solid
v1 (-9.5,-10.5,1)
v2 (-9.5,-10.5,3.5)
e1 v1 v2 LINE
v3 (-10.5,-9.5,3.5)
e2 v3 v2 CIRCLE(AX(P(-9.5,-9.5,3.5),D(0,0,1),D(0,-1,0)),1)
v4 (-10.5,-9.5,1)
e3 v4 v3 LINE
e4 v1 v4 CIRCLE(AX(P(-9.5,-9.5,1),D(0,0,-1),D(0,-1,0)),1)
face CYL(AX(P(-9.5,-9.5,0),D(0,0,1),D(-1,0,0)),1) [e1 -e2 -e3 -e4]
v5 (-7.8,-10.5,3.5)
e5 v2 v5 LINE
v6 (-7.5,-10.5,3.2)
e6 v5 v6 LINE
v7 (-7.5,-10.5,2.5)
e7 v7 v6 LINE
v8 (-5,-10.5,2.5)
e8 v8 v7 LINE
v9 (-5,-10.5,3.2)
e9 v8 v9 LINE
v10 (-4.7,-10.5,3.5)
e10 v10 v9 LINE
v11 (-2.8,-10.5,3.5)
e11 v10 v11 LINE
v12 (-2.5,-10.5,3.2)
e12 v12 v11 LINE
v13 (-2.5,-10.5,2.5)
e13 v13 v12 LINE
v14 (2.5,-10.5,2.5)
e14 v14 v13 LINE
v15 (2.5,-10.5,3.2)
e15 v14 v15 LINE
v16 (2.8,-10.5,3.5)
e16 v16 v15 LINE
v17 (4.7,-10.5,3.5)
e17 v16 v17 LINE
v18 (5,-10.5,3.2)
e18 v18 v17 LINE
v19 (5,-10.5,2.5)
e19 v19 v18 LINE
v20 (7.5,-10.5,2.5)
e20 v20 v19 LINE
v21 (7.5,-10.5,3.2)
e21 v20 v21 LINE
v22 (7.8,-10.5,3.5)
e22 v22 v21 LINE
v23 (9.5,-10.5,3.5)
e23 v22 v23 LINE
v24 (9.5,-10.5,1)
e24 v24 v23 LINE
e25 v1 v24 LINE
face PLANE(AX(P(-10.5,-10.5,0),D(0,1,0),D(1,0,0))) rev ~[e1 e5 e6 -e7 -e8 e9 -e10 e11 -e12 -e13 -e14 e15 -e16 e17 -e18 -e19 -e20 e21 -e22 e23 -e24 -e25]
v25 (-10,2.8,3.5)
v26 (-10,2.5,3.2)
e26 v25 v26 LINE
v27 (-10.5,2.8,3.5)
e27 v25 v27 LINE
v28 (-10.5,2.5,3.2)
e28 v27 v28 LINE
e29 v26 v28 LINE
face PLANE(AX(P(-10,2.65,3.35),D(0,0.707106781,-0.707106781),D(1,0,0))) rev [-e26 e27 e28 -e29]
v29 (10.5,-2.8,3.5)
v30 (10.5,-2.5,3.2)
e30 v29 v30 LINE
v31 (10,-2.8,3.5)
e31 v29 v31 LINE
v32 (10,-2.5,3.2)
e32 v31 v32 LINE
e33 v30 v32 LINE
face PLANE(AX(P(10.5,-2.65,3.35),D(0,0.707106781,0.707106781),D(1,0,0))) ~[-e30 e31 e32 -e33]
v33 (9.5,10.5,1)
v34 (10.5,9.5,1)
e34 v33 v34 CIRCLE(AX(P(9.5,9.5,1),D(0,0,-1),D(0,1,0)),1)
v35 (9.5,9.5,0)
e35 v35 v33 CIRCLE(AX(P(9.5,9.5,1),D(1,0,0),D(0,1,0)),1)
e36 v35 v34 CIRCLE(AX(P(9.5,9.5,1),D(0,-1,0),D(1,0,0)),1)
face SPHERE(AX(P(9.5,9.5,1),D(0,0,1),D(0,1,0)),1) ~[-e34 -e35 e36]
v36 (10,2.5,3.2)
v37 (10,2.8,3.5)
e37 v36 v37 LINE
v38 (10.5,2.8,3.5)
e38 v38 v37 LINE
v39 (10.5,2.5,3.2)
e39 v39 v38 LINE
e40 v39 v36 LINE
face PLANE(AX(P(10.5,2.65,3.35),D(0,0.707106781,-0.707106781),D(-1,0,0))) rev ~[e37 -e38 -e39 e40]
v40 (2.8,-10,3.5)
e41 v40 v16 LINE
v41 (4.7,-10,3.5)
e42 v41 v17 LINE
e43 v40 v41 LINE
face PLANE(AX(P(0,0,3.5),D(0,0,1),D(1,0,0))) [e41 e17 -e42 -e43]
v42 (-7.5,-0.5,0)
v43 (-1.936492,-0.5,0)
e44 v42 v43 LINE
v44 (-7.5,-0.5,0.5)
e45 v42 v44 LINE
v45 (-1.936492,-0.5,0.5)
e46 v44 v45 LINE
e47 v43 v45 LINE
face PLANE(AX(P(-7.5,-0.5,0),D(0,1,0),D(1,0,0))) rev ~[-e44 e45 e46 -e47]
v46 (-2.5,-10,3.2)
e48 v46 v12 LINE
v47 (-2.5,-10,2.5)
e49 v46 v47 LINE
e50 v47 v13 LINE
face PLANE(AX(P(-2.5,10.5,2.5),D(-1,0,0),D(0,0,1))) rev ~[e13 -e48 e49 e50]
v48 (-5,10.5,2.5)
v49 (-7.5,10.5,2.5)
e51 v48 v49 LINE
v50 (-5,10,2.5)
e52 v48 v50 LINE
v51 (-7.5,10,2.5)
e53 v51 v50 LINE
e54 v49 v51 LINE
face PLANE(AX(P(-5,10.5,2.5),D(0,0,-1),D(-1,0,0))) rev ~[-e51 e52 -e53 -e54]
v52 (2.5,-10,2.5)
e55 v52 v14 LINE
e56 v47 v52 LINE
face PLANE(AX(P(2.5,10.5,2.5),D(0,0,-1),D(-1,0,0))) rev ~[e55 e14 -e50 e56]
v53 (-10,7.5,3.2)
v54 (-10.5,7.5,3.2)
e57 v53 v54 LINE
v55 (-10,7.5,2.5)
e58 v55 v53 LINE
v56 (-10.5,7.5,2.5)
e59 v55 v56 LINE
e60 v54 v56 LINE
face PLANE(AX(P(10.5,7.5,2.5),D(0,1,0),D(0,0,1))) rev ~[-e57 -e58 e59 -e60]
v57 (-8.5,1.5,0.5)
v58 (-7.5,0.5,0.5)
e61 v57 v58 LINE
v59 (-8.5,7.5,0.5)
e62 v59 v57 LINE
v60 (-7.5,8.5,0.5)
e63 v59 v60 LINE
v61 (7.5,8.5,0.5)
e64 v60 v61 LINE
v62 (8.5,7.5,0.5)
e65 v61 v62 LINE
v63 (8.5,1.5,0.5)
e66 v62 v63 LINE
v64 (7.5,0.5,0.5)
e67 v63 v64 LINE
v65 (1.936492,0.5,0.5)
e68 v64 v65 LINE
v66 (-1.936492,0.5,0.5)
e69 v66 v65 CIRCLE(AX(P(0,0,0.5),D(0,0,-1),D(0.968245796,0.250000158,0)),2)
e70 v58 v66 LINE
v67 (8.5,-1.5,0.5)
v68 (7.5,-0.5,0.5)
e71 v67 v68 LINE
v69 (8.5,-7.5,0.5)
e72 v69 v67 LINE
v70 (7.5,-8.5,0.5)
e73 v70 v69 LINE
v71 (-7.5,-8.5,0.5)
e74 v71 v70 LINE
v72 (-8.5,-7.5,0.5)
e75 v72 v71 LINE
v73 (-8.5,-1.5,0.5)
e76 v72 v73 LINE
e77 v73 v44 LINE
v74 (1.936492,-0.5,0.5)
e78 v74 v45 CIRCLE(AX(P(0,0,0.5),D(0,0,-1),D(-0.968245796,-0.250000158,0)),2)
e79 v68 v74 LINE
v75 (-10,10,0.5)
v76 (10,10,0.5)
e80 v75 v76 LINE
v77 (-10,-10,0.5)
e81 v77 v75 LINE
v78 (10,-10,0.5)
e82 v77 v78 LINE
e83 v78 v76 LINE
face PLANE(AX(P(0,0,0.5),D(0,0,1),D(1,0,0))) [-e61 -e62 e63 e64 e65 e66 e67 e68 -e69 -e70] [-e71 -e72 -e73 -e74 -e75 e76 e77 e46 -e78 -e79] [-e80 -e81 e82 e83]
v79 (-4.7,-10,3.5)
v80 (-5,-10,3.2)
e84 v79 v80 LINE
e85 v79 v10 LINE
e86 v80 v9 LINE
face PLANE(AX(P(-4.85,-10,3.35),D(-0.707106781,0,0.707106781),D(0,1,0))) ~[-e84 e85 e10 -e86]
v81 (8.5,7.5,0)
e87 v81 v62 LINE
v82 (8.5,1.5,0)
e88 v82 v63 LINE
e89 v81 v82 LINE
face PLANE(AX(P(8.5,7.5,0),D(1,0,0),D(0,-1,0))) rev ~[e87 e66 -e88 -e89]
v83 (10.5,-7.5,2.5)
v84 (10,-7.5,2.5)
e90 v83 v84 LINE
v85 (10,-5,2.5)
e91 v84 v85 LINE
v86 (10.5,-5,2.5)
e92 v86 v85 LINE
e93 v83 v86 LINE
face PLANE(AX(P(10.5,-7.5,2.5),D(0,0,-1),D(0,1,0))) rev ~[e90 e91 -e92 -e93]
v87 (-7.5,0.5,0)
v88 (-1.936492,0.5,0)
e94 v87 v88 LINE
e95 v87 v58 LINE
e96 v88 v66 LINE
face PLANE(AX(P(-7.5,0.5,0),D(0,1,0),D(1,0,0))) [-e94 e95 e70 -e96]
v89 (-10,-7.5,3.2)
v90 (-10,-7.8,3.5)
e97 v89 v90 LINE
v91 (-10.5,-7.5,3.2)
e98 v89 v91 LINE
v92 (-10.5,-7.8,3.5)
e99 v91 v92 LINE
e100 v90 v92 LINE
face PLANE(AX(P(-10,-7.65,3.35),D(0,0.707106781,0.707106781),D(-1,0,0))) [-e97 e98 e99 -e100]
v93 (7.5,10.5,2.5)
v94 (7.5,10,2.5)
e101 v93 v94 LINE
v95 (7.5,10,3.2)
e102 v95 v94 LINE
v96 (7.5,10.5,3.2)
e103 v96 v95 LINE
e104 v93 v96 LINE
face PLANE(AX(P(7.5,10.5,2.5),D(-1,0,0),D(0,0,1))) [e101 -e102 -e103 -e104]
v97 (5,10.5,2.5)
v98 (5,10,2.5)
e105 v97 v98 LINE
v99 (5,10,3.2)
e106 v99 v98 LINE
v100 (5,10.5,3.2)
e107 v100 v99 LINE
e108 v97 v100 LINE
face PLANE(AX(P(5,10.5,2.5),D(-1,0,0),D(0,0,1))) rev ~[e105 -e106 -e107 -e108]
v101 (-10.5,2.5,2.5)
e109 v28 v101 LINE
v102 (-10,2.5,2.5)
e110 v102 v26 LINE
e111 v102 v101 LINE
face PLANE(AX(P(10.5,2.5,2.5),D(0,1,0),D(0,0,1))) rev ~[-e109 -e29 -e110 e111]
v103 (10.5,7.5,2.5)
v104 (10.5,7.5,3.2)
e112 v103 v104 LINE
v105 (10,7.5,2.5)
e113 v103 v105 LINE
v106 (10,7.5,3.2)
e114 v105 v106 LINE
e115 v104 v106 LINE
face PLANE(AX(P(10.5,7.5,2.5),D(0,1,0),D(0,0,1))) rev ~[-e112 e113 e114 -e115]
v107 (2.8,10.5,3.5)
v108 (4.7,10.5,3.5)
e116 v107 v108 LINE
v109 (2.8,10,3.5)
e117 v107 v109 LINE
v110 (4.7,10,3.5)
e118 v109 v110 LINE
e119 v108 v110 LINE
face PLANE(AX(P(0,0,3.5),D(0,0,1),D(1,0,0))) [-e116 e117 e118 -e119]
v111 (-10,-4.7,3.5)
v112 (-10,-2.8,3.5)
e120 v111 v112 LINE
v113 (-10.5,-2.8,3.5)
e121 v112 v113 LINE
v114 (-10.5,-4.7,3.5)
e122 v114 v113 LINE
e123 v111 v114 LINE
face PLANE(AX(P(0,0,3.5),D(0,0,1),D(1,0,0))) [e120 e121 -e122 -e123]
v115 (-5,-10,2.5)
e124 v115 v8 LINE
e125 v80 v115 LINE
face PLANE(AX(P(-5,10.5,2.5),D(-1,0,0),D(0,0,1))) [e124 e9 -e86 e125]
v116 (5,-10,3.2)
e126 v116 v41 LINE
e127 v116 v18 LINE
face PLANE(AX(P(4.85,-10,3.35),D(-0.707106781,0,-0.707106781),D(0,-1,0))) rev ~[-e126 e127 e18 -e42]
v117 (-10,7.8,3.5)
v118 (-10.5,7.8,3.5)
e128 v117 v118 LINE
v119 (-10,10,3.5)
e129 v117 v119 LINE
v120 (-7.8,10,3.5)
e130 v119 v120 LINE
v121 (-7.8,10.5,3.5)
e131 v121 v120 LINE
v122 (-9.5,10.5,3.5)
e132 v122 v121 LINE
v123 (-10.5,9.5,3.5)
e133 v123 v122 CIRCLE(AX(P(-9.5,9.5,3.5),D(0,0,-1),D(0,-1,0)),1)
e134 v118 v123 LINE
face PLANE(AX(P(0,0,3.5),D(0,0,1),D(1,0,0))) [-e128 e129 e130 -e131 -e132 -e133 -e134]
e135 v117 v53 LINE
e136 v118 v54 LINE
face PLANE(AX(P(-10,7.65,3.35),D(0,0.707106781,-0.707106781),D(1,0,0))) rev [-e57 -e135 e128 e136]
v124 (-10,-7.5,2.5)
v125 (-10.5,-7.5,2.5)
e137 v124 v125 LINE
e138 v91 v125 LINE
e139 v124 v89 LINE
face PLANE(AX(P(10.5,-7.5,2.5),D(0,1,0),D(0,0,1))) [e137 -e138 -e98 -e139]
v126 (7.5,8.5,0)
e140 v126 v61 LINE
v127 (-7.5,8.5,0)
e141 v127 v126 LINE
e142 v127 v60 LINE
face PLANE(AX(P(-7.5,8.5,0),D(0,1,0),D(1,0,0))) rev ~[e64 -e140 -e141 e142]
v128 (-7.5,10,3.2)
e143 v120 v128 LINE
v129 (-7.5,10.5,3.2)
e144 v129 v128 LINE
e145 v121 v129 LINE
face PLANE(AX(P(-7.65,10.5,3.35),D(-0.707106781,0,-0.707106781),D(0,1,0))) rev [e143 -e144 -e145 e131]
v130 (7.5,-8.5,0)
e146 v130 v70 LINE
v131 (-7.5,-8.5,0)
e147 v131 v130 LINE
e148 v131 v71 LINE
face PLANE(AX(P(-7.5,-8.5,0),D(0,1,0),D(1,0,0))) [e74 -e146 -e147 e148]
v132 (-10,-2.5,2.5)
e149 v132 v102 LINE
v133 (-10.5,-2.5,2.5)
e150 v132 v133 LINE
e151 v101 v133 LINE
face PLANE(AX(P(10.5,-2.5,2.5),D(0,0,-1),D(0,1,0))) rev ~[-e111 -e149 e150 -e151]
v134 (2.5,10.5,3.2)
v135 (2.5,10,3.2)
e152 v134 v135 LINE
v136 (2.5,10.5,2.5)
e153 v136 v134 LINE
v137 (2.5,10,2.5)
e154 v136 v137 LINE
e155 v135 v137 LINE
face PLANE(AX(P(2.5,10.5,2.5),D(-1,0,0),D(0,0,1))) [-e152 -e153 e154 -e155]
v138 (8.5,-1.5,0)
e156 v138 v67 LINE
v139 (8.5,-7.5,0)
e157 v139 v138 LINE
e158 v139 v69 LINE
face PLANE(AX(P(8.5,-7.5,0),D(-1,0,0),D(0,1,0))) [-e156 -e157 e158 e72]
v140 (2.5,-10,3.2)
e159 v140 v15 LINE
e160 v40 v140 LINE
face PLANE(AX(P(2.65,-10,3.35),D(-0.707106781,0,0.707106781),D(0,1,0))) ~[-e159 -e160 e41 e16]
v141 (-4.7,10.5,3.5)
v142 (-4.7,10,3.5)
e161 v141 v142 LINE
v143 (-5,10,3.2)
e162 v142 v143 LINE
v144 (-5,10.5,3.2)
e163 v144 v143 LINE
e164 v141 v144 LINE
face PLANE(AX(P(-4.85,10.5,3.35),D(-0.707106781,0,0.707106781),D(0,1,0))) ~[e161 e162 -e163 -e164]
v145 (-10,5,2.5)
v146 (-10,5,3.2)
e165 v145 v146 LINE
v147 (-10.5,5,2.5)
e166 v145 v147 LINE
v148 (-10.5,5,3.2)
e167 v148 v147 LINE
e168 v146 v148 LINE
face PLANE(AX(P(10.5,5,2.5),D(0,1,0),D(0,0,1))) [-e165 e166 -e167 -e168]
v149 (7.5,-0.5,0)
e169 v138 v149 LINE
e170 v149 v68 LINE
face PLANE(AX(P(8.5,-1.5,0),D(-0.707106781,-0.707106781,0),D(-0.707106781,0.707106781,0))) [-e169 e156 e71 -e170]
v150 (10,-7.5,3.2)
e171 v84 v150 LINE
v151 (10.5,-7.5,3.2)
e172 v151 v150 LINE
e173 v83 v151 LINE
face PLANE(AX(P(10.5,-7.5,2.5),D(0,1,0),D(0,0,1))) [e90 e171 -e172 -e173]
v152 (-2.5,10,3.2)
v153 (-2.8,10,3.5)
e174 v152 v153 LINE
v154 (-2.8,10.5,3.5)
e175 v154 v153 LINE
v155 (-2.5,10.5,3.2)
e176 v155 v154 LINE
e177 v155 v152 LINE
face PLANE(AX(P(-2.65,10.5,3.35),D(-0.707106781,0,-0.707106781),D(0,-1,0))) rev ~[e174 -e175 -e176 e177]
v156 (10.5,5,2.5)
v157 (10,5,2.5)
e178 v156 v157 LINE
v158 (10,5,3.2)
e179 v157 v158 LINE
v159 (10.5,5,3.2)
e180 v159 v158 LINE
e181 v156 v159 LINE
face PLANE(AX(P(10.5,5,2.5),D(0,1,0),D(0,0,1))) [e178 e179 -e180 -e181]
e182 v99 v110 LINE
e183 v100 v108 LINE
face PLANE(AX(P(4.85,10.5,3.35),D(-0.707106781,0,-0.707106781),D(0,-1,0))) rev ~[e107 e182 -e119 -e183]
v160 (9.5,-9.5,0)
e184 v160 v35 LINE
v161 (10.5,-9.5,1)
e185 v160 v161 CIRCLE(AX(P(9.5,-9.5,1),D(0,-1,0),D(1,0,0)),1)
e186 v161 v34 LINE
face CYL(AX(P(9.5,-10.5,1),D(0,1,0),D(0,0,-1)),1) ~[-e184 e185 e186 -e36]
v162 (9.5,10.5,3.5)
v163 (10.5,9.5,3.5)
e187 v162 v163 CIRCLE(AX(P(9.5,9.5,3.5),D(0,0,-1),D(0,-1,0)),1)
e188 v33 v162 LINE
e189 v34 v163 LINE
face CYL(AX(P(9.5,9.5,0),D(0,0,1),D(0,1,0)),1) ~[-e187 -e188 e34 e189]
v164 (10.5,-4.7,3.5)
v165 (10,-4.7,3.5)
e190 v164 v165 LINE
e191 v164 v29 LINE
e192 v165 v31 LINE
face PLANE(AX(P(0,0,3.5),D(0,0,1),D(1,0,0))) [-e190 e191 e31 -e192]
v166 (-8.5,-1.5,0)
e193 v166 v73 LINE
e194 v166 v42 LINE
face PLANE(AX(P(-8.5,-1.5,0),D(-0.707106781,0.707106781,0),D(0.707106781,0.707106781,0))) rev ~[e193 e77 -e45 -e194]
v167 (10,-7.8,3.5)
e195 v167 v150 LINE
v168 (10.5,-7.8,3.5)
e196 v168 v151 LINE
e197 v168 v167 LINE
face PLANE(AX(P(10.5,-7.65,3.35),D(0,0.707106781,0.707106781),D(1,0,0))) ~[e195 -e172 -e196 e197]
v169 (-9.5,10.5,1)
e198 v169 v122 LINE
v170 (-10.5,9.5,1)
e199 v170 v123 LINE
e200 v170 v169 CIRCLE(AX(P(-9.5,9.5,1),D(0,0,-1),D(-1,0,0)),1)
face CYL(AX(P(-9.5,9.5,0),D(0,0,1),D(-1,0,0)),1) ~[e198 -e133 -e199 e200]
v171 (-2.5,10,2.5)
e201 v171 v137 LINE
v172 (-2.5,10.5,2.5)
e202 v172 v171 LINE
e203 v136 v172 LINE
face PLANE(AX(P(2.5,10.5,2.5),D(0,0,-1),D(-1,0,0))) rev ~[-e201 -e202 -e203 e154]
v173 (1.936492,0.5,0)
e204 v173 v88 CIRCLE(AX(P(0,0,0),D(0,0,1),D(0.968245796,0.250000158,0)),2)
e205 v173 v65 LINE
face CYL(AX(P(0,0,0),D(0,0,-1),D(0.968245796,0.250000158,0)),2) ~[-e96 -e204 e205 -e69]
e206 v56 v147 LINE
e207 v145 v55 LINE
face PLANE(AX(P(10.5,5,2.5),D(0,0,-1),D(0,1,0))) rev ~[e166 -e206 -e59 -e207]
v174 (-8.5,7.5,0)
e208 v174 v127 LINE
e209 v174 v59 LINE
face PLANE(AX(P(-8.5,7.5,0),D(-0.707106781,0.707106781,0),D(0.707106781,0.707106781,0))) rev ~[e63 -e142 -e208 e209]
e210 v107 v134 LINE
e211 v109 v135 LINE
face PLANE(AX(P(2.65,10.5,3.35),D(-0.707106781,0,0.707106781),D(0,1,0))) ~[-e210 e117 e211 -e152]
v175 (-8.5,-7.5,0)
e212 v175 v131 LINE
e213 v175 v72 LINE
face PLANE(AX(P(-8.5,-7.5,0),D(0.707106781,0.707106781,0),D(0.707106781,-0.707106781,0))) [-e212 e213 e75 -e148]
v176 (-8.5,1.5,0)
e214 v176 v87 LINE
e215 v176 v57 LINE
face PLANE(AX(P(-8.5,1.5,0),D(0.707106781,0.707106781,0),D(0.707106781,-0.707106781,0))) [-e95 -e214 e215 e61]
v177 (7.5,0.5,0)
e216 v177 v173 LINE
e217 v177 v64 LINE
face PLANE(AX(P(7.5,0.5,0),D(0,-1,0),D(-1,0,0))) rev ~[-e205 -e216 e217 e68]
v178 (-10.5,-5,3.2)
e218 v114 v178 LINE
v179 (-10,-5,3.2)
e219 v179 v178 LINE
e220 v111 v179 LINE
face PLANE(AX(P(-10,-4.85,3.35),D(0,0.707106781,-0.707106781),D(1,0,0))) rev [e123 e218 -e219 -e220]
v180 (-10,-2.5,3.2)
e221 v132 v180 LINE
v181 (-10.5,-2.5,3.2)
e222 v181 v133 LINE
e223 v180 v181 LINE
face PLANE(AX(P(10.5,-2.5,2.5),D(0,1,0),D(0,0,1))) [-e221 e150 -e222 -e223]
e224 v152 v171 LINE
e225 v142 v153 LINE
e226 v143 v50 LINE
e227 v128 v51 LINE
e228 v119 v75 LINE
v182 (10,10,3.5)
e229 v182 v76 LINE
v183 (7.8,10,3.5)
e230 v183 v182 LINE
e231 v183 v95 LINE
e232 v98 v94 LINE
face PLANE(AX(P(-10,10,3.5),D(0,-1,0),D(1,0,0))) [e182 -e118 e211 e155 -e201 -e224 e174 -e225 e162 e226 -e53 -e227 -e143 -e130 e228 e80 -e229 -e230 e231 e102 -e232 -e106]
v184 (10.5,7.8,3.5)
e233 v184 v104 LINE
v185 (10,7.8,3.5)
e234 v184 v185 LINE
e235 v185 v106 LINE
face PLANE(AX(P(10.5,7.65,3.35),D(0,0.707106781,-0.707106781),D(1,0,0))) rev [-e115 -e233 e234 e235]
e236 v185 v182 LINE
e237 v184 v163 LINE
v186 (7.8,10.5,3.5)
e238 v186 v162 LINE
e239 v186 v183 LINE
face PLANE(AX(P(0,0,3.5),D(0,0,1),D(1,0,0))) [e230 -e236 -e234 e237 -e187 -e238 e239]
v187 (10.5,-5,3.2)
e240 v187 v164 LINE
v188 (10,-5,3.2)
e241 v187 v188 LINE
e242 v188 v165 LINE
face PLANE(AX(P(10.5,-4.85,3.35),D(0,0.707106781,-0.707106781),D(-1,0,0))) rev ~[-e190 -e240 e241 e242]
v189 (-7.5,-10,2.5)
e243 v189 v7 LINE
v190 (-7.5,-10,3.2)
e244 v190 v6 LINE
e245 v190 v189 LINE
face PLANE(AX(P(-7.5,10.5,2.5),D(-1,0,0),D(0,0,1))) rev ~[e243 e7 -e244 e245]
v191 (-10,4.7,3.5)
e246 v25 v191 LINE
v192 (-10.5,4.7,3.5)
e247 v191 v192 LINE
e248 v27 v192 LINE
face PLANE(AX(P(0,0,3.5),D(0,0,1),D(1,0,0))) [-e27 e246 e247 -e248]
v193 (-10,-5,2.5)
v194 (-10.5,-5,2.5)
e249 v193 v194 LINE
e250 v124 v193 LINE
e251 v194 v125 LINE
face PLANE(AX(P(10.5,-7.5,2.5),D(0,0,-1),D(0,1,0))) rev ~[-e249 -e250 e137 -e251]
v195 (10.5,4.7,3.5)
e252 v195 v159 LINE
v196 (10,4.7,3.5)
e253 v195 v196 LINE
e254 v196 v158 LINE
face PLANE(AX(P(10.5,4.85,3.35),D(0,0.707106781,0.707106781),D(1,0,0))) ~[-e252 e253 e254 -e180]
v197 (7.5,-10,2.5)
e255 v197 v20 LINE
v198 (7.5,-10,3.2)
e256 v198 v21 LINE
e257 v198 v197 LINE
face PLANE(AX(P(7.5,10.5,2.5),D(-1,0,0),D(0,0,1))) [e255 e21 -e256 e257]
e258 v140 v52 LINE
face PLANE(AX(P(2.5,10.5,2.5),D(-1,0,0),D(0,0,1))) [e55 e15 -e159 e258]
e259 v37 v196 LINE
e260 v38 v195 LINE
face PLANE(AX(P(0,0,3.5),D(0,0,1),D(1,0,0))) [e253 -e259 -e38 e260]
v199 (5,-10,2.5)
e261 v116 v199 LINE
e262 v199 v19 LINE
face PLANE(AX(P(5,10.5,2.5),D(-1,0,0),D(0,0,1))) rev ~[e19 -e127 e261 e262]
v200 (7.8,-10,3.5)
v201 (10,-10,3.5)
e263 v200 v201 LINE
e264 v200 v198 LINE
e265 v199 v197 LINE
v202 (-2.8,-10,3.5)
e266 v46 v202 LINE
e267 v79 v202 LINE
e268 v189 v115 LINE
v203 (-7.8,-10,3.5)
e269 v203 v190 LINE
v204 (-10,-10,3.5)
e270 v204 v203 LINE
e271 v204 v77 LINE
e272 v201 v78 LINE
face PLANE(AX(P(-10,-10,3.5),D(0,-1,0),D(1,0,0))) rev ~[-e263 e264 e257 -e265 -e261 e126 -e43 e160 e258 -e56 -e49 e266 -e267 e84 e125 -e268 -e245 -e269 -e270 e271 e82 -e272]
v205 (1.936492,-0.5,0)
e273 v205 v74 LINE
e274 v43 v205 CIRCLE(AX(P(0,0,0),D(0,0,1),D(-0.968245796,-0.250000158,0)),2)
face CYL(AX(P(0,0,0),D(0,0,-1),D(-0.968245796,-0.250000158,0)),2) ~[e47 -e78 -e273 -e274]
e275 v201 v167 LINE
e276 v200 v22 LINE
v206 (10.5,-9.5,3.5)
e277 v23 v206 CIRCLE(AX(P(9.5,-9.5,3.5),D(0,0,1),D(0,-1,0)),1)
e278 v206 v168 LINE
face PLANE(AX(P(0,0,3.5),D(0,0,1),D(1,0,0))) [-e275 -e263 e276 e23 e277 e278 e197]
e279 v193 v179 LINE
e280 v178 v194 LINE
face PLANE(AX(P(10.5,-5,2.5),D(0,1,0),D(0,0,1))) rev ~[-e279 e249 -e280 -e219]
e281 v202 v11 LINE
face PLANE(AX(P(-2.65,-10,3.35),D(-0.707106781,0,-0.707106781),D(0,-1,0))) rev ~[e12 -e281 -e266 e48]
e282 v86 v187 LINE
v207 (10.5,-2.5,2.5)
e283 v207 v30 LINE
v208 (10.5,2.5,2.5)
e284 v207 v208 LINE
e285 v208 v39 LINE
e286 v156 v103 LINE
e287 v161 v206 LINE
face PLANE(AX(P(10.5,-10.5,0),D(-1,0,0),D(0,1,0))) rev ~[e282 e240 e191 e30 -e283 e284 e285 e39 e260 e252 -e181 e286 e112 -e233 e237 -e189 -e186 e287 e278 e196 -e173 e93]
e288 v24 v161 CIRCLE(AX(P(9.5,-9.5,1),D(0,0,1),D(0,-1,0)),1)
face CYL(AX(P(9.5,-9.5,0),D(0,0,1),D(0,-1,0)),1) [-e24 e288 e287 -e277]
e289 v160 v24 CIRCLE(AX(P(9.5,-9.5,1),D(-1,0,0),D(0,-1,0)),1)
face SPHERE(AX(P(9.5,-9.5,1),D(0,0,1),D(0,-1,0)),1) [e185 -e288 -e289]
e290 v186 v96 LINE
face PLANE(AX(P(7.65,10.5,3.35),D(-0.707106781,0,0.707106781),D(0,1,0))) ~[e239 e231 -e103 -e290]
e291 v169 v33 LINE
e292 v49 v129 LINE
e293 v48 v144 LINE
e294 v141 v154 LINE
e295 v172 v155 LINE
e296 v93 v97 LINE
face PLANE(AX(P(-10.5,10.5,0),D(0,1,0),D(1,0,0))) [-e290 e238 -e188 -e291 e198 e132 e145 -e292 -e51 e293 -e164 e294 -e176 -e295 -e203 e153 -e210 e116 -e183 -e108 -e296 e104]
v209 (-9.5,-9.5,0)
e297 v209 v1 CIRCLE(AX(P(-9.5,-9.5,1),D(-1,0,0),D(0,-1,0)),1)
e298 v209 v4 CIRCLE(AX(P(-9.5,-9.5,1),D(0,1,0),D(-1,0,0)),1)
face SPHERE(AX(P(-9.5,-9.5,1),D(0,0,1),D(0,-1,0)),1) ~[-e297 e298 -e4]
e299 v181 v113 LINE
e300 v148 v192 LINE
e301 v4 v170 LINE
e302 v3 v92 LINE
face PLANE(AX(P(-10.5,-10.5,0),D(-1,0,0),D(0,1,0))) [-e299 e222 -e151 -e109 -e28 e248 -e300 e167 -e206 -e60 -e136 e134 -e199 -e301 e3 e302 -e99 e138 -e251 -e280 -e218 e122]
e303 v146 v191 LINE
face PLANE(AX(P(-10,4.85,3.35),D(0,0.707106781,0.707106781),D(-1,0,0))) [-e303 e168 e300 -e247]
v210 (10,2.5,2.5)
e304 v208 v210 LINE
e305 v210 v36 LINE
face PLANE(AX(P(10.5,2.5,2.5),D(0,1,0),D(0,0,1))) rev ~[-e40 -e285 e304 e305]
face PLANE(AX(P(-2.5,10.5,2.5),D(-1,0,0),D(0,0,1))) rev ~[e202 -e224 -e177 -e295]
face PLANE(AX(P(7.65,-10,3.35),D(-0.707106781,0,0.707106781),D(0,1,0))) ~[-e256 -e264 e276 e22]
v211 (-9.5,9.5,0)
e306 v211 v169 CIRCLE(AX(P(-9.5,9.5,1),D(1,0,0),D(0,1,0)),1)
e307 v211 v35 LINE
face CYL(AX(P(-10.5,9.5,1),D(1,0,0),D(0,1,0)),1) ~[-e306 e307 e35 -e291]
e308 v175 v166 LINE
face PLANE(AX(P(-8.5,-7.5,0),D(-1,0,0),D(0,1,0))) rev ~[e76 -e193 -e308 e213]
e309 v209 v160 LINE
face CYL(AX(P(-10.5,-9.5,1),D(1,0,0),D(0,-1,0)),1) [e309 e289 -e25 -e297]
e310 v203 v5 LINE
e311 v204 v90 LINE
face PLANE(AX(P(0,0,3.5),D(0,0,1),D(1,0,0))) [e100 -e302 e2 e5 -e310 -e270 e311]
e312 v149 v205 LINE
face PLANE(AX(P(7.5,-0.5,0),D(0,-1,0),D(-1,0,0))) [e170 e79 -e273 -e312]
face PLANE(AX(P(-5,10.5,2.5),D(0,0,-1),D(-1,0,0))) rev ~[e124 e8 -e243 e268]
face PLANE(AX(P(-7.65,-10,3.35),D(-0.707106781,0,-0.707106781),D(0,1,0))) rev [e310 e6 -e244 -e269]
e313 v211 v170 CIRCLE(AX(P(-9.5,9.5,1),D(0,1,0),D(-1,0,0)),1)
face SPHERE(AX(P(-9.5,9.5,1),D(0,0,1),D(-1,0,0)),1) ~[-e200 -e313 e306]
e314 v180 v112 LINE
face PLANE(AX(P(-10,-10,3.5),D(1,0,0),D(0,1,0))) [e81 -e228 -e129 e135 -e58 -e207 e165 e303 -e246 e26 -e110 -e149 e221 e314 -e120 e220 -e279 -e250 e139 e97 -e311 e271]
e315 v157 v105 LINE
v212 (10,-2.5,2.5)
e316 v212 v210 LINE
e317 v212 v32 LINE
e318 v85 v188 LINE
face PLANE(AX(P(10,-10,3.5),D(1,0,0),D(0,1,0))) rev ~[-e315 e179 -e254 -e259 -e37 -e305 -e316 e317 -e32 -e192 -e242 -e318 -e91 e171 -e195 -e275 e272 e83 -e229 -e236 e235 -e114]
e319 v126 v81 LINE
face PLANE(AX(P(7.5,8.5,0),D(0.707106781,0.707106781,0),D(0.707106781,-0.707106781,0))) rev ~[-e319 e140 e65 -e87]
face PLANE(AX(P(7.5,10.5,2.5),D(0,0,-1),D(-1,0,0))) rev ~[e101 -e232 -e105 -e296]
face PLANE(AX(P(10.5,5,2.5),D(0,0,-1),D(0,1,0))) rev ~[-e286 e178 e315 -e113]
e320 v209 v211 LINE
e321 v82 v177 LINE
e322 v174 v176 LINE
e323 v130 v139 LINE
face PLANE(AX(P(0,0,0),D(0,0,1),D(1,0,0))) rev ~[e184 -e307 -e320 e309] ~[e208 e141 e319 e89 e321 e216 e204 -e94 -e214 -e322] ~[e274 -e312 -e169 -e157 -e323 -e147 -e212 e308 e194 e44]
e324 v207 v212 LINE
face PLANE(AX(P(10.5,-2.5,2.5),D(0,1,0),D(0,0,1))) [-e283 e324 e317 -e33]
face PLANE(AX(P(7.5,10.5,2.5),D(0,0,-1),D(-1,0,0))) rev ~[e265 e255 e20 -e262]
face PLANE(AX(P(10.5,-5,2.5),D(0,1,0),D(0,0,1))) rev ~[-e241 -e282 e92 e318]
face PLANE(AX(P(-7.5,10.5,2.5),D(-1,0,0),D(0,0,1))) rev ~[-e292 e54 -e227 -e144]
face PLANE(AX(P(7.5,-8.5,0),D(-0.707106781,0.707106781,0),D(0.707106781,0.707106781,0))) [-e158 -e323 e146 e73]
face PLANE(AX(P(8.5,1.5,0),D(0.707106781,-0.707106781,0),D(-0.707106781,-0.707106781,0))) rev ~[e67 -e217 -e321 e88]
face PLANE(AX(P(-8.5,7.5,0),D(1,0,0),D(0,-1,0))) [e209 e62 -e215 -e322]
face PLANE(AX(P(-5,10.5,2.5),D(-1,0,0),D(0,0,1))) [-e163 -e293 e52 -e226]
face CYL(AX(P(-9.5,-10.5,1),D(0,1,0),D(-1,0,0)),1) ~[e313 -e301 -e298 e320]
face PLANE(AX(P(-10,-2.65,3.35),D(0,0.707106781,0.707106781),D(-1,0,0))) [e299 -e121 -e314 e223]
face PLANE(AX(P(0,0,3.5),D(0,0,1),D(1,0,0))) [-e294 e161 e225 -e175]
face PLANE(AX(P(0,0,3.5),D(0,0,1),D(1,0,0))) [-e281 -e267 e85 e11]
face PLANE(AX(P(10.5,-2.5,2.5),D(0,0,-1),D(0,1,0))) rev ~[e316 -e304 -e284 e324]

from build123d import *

# Parameters (mm, degrees)
SKETCH_W        = 21
SKETCH_H        = 21
PAD_DEPTH       = 3.5
COPYSKETCH001_W = 20
COPYSKETCH001_H = 20
POCKET_DEPTH    = 3
FILLET_R        = 1
SKETCH001_W     = 2.5
SKETCH001_H     = 2
SKETCH001_W_2   = 5
POCKET001_DEPTH = 21.001
SKETCH002_W     = 2.5
SKETCH002_H     = 2
SKETCH002_W_2   = 5
POCKET002_DEPTH = 21.001
CHAMFER_SIZE    = 0.3


with BuildPart() as part:
    # Sketch → Pad (new body)
    with BuildSketch(Plane.XY):
        Rectangle(SKETCH_W, SKETCH_H)
        with BuildLine():
            Line((-8.5, 7.5), (-7.5, 8.5))
            Line((-7.5, 8.5), (7.5, 8.5))
            Line((7.5, 8.5), (8.5, 7.5))
            Line((8.5, 7.5), (8.5, 1.5))
            Line((8.5, 1.5), (7.5, 0.5))
            Line((7.5, 0.5), (1.936492, 0.5))
            ThreePointArc((1.936492, 0.5), (0, 2), (-1.936492, 0.5))
            Line((-7.5, 0.5), (-1.936492, 0.5))
            Line((-8.5, 1.5), (-7.5, 0.5))
            Line((-8.5, 7.5), (-8.5, 1.5))
        make_face(mode=Mode.SUBTRACT)
        with BuildLine():
            Line((-8.5, -7.5), (-7.5, -8.5))
            Line((-7.5, -8.5), (7.5, -8.5))
            Line((7.5, -8.5), (8.5, -7.5))
            Line((8.5, -7.5), (8.5, -1.5))
            Line((8.5, -1.5), (7.5, -0.5))
            Line((7.5, -0.5), (1.936492, -0.5))
            ThreePointArc((-1.936492, -0.5), (0, -2), (1.936492, -0.5))
            Line((-7.5, -0.5), (-1.936492, -0.5))
            Line((-8.5, -1.5), (-7.5, -0.5))
            Line((-8.5, -7.5), (-8.5, -1.5))
        make_face(mode=Mode.SUBTRACT)
    extrude(amount=PAD_DEPTH)

    # CopySketch001 → Pocket (cut)
    with BuildSketch(Plane.XY.offset(3.5)):
        Rectangle(COPYSKETCH001_W, COPYSKETCH001_H)
    extrude(amount=-POCKET_DEPTH, mode=Mode.SUBTRACT)

    # Fillet
    fillet_edges = [part.edges().sort_by_distance(p)[0] for p in [
        (-10.5, 10.5, 1.75),
        (10.5, 10.5, 1.75),
        (10.5, -10.5, 1.75),
        (-10.5, -10.5, 1.75),
        (0, -10.5, 0),
        (-10.5, 0, 0),
        (0, 10.5, 0),
        (10.5, 0, 0),
    ]]
    fillet(fillet_edges, radius=FILLET_R)

    # Sketch001 (on Face7 of Fillet) → Pocket001 (cut, through all)
    with BuildSketch(Plane.YZ.offset(10.5)):
        with Locations((-6.25, 3.5)):
            Rectangle(SKETCH001_W, SKETCH001_H)
        with Locations((0, 3.5)):
            Rectangle(SKETCH001_W_2, SKETCH001_H)
        with Locations((6.25, 3.5)):
            Rectangle(SKETCH001_W, SKETCH001_H)
    extrude(amount=-POCKET001_DEPTH, mode=Mode.SUBTRACT)

    # Sketch002 (on Face1 of Pocket001) → Pocket002 (cut, through all)
    with BuildSketch(Plane(origin=(0, 10.5, 0), x_dir=(-1, 0, 0), z_dir=(0, 1, 0))):
        with Locations((-6.25, 3.5)):
            Rectangle(SKETCH002_W, SKETCH002_H)
        with Locations((0, 3.5)):
            Rectangle(SKETCH002_W_2, SKETCH002_H)
        with Locations((6.25, 3.5)):
            Rectangle(SKETCH002_W, SKETCH002_H)
    extrude(amount=-POCKET002_DEPTH, mode=Mode.SUBTRACT)

    # Chamfer
    chamfer_edges = [part.edges().sort_by_distance(p)[0] for p in [
        (10.25, -5, 3.5),
        (10.25, -2.5, 3.5),
        (10.25, 2.5, 3.5),
        (10.25, 5, 3.5),
        (10.25, -7.5, 3.5),
        (7.5, -10.25, 3.5),
        (5, -10.25, 3.5),
        (2.5, -10.25, 3.5),
        (-2.5, -10.25, 3.5),
        (-5, -10.25, 3.5),
        (-7.5, -10.25, 3.5),
        (-10.25, -7.5, 3.5),
        (-10.25, -5, 3.5),
        (-10.25, -2.5, 3.5),
        (-10.25, 2.5, 3.5),
        (-10.25, 5, 3.5),
        (-10.25, 7.5, 3.5),
        (5, 10.25, 3.5),
        (7.5, 10.25, 3.5),
        (10.25, 7.5, 3.5),
        (-2.5, 10.25, 3.5),
        (2.5, 10.25, 3.5),
        (-7.5, 10.25, 3.5),
        (-5, 10.25, 3.5),
    ]]
    chamfer(chamfer_edges, length=CHAMFER_SIZE)


solid = part.part
